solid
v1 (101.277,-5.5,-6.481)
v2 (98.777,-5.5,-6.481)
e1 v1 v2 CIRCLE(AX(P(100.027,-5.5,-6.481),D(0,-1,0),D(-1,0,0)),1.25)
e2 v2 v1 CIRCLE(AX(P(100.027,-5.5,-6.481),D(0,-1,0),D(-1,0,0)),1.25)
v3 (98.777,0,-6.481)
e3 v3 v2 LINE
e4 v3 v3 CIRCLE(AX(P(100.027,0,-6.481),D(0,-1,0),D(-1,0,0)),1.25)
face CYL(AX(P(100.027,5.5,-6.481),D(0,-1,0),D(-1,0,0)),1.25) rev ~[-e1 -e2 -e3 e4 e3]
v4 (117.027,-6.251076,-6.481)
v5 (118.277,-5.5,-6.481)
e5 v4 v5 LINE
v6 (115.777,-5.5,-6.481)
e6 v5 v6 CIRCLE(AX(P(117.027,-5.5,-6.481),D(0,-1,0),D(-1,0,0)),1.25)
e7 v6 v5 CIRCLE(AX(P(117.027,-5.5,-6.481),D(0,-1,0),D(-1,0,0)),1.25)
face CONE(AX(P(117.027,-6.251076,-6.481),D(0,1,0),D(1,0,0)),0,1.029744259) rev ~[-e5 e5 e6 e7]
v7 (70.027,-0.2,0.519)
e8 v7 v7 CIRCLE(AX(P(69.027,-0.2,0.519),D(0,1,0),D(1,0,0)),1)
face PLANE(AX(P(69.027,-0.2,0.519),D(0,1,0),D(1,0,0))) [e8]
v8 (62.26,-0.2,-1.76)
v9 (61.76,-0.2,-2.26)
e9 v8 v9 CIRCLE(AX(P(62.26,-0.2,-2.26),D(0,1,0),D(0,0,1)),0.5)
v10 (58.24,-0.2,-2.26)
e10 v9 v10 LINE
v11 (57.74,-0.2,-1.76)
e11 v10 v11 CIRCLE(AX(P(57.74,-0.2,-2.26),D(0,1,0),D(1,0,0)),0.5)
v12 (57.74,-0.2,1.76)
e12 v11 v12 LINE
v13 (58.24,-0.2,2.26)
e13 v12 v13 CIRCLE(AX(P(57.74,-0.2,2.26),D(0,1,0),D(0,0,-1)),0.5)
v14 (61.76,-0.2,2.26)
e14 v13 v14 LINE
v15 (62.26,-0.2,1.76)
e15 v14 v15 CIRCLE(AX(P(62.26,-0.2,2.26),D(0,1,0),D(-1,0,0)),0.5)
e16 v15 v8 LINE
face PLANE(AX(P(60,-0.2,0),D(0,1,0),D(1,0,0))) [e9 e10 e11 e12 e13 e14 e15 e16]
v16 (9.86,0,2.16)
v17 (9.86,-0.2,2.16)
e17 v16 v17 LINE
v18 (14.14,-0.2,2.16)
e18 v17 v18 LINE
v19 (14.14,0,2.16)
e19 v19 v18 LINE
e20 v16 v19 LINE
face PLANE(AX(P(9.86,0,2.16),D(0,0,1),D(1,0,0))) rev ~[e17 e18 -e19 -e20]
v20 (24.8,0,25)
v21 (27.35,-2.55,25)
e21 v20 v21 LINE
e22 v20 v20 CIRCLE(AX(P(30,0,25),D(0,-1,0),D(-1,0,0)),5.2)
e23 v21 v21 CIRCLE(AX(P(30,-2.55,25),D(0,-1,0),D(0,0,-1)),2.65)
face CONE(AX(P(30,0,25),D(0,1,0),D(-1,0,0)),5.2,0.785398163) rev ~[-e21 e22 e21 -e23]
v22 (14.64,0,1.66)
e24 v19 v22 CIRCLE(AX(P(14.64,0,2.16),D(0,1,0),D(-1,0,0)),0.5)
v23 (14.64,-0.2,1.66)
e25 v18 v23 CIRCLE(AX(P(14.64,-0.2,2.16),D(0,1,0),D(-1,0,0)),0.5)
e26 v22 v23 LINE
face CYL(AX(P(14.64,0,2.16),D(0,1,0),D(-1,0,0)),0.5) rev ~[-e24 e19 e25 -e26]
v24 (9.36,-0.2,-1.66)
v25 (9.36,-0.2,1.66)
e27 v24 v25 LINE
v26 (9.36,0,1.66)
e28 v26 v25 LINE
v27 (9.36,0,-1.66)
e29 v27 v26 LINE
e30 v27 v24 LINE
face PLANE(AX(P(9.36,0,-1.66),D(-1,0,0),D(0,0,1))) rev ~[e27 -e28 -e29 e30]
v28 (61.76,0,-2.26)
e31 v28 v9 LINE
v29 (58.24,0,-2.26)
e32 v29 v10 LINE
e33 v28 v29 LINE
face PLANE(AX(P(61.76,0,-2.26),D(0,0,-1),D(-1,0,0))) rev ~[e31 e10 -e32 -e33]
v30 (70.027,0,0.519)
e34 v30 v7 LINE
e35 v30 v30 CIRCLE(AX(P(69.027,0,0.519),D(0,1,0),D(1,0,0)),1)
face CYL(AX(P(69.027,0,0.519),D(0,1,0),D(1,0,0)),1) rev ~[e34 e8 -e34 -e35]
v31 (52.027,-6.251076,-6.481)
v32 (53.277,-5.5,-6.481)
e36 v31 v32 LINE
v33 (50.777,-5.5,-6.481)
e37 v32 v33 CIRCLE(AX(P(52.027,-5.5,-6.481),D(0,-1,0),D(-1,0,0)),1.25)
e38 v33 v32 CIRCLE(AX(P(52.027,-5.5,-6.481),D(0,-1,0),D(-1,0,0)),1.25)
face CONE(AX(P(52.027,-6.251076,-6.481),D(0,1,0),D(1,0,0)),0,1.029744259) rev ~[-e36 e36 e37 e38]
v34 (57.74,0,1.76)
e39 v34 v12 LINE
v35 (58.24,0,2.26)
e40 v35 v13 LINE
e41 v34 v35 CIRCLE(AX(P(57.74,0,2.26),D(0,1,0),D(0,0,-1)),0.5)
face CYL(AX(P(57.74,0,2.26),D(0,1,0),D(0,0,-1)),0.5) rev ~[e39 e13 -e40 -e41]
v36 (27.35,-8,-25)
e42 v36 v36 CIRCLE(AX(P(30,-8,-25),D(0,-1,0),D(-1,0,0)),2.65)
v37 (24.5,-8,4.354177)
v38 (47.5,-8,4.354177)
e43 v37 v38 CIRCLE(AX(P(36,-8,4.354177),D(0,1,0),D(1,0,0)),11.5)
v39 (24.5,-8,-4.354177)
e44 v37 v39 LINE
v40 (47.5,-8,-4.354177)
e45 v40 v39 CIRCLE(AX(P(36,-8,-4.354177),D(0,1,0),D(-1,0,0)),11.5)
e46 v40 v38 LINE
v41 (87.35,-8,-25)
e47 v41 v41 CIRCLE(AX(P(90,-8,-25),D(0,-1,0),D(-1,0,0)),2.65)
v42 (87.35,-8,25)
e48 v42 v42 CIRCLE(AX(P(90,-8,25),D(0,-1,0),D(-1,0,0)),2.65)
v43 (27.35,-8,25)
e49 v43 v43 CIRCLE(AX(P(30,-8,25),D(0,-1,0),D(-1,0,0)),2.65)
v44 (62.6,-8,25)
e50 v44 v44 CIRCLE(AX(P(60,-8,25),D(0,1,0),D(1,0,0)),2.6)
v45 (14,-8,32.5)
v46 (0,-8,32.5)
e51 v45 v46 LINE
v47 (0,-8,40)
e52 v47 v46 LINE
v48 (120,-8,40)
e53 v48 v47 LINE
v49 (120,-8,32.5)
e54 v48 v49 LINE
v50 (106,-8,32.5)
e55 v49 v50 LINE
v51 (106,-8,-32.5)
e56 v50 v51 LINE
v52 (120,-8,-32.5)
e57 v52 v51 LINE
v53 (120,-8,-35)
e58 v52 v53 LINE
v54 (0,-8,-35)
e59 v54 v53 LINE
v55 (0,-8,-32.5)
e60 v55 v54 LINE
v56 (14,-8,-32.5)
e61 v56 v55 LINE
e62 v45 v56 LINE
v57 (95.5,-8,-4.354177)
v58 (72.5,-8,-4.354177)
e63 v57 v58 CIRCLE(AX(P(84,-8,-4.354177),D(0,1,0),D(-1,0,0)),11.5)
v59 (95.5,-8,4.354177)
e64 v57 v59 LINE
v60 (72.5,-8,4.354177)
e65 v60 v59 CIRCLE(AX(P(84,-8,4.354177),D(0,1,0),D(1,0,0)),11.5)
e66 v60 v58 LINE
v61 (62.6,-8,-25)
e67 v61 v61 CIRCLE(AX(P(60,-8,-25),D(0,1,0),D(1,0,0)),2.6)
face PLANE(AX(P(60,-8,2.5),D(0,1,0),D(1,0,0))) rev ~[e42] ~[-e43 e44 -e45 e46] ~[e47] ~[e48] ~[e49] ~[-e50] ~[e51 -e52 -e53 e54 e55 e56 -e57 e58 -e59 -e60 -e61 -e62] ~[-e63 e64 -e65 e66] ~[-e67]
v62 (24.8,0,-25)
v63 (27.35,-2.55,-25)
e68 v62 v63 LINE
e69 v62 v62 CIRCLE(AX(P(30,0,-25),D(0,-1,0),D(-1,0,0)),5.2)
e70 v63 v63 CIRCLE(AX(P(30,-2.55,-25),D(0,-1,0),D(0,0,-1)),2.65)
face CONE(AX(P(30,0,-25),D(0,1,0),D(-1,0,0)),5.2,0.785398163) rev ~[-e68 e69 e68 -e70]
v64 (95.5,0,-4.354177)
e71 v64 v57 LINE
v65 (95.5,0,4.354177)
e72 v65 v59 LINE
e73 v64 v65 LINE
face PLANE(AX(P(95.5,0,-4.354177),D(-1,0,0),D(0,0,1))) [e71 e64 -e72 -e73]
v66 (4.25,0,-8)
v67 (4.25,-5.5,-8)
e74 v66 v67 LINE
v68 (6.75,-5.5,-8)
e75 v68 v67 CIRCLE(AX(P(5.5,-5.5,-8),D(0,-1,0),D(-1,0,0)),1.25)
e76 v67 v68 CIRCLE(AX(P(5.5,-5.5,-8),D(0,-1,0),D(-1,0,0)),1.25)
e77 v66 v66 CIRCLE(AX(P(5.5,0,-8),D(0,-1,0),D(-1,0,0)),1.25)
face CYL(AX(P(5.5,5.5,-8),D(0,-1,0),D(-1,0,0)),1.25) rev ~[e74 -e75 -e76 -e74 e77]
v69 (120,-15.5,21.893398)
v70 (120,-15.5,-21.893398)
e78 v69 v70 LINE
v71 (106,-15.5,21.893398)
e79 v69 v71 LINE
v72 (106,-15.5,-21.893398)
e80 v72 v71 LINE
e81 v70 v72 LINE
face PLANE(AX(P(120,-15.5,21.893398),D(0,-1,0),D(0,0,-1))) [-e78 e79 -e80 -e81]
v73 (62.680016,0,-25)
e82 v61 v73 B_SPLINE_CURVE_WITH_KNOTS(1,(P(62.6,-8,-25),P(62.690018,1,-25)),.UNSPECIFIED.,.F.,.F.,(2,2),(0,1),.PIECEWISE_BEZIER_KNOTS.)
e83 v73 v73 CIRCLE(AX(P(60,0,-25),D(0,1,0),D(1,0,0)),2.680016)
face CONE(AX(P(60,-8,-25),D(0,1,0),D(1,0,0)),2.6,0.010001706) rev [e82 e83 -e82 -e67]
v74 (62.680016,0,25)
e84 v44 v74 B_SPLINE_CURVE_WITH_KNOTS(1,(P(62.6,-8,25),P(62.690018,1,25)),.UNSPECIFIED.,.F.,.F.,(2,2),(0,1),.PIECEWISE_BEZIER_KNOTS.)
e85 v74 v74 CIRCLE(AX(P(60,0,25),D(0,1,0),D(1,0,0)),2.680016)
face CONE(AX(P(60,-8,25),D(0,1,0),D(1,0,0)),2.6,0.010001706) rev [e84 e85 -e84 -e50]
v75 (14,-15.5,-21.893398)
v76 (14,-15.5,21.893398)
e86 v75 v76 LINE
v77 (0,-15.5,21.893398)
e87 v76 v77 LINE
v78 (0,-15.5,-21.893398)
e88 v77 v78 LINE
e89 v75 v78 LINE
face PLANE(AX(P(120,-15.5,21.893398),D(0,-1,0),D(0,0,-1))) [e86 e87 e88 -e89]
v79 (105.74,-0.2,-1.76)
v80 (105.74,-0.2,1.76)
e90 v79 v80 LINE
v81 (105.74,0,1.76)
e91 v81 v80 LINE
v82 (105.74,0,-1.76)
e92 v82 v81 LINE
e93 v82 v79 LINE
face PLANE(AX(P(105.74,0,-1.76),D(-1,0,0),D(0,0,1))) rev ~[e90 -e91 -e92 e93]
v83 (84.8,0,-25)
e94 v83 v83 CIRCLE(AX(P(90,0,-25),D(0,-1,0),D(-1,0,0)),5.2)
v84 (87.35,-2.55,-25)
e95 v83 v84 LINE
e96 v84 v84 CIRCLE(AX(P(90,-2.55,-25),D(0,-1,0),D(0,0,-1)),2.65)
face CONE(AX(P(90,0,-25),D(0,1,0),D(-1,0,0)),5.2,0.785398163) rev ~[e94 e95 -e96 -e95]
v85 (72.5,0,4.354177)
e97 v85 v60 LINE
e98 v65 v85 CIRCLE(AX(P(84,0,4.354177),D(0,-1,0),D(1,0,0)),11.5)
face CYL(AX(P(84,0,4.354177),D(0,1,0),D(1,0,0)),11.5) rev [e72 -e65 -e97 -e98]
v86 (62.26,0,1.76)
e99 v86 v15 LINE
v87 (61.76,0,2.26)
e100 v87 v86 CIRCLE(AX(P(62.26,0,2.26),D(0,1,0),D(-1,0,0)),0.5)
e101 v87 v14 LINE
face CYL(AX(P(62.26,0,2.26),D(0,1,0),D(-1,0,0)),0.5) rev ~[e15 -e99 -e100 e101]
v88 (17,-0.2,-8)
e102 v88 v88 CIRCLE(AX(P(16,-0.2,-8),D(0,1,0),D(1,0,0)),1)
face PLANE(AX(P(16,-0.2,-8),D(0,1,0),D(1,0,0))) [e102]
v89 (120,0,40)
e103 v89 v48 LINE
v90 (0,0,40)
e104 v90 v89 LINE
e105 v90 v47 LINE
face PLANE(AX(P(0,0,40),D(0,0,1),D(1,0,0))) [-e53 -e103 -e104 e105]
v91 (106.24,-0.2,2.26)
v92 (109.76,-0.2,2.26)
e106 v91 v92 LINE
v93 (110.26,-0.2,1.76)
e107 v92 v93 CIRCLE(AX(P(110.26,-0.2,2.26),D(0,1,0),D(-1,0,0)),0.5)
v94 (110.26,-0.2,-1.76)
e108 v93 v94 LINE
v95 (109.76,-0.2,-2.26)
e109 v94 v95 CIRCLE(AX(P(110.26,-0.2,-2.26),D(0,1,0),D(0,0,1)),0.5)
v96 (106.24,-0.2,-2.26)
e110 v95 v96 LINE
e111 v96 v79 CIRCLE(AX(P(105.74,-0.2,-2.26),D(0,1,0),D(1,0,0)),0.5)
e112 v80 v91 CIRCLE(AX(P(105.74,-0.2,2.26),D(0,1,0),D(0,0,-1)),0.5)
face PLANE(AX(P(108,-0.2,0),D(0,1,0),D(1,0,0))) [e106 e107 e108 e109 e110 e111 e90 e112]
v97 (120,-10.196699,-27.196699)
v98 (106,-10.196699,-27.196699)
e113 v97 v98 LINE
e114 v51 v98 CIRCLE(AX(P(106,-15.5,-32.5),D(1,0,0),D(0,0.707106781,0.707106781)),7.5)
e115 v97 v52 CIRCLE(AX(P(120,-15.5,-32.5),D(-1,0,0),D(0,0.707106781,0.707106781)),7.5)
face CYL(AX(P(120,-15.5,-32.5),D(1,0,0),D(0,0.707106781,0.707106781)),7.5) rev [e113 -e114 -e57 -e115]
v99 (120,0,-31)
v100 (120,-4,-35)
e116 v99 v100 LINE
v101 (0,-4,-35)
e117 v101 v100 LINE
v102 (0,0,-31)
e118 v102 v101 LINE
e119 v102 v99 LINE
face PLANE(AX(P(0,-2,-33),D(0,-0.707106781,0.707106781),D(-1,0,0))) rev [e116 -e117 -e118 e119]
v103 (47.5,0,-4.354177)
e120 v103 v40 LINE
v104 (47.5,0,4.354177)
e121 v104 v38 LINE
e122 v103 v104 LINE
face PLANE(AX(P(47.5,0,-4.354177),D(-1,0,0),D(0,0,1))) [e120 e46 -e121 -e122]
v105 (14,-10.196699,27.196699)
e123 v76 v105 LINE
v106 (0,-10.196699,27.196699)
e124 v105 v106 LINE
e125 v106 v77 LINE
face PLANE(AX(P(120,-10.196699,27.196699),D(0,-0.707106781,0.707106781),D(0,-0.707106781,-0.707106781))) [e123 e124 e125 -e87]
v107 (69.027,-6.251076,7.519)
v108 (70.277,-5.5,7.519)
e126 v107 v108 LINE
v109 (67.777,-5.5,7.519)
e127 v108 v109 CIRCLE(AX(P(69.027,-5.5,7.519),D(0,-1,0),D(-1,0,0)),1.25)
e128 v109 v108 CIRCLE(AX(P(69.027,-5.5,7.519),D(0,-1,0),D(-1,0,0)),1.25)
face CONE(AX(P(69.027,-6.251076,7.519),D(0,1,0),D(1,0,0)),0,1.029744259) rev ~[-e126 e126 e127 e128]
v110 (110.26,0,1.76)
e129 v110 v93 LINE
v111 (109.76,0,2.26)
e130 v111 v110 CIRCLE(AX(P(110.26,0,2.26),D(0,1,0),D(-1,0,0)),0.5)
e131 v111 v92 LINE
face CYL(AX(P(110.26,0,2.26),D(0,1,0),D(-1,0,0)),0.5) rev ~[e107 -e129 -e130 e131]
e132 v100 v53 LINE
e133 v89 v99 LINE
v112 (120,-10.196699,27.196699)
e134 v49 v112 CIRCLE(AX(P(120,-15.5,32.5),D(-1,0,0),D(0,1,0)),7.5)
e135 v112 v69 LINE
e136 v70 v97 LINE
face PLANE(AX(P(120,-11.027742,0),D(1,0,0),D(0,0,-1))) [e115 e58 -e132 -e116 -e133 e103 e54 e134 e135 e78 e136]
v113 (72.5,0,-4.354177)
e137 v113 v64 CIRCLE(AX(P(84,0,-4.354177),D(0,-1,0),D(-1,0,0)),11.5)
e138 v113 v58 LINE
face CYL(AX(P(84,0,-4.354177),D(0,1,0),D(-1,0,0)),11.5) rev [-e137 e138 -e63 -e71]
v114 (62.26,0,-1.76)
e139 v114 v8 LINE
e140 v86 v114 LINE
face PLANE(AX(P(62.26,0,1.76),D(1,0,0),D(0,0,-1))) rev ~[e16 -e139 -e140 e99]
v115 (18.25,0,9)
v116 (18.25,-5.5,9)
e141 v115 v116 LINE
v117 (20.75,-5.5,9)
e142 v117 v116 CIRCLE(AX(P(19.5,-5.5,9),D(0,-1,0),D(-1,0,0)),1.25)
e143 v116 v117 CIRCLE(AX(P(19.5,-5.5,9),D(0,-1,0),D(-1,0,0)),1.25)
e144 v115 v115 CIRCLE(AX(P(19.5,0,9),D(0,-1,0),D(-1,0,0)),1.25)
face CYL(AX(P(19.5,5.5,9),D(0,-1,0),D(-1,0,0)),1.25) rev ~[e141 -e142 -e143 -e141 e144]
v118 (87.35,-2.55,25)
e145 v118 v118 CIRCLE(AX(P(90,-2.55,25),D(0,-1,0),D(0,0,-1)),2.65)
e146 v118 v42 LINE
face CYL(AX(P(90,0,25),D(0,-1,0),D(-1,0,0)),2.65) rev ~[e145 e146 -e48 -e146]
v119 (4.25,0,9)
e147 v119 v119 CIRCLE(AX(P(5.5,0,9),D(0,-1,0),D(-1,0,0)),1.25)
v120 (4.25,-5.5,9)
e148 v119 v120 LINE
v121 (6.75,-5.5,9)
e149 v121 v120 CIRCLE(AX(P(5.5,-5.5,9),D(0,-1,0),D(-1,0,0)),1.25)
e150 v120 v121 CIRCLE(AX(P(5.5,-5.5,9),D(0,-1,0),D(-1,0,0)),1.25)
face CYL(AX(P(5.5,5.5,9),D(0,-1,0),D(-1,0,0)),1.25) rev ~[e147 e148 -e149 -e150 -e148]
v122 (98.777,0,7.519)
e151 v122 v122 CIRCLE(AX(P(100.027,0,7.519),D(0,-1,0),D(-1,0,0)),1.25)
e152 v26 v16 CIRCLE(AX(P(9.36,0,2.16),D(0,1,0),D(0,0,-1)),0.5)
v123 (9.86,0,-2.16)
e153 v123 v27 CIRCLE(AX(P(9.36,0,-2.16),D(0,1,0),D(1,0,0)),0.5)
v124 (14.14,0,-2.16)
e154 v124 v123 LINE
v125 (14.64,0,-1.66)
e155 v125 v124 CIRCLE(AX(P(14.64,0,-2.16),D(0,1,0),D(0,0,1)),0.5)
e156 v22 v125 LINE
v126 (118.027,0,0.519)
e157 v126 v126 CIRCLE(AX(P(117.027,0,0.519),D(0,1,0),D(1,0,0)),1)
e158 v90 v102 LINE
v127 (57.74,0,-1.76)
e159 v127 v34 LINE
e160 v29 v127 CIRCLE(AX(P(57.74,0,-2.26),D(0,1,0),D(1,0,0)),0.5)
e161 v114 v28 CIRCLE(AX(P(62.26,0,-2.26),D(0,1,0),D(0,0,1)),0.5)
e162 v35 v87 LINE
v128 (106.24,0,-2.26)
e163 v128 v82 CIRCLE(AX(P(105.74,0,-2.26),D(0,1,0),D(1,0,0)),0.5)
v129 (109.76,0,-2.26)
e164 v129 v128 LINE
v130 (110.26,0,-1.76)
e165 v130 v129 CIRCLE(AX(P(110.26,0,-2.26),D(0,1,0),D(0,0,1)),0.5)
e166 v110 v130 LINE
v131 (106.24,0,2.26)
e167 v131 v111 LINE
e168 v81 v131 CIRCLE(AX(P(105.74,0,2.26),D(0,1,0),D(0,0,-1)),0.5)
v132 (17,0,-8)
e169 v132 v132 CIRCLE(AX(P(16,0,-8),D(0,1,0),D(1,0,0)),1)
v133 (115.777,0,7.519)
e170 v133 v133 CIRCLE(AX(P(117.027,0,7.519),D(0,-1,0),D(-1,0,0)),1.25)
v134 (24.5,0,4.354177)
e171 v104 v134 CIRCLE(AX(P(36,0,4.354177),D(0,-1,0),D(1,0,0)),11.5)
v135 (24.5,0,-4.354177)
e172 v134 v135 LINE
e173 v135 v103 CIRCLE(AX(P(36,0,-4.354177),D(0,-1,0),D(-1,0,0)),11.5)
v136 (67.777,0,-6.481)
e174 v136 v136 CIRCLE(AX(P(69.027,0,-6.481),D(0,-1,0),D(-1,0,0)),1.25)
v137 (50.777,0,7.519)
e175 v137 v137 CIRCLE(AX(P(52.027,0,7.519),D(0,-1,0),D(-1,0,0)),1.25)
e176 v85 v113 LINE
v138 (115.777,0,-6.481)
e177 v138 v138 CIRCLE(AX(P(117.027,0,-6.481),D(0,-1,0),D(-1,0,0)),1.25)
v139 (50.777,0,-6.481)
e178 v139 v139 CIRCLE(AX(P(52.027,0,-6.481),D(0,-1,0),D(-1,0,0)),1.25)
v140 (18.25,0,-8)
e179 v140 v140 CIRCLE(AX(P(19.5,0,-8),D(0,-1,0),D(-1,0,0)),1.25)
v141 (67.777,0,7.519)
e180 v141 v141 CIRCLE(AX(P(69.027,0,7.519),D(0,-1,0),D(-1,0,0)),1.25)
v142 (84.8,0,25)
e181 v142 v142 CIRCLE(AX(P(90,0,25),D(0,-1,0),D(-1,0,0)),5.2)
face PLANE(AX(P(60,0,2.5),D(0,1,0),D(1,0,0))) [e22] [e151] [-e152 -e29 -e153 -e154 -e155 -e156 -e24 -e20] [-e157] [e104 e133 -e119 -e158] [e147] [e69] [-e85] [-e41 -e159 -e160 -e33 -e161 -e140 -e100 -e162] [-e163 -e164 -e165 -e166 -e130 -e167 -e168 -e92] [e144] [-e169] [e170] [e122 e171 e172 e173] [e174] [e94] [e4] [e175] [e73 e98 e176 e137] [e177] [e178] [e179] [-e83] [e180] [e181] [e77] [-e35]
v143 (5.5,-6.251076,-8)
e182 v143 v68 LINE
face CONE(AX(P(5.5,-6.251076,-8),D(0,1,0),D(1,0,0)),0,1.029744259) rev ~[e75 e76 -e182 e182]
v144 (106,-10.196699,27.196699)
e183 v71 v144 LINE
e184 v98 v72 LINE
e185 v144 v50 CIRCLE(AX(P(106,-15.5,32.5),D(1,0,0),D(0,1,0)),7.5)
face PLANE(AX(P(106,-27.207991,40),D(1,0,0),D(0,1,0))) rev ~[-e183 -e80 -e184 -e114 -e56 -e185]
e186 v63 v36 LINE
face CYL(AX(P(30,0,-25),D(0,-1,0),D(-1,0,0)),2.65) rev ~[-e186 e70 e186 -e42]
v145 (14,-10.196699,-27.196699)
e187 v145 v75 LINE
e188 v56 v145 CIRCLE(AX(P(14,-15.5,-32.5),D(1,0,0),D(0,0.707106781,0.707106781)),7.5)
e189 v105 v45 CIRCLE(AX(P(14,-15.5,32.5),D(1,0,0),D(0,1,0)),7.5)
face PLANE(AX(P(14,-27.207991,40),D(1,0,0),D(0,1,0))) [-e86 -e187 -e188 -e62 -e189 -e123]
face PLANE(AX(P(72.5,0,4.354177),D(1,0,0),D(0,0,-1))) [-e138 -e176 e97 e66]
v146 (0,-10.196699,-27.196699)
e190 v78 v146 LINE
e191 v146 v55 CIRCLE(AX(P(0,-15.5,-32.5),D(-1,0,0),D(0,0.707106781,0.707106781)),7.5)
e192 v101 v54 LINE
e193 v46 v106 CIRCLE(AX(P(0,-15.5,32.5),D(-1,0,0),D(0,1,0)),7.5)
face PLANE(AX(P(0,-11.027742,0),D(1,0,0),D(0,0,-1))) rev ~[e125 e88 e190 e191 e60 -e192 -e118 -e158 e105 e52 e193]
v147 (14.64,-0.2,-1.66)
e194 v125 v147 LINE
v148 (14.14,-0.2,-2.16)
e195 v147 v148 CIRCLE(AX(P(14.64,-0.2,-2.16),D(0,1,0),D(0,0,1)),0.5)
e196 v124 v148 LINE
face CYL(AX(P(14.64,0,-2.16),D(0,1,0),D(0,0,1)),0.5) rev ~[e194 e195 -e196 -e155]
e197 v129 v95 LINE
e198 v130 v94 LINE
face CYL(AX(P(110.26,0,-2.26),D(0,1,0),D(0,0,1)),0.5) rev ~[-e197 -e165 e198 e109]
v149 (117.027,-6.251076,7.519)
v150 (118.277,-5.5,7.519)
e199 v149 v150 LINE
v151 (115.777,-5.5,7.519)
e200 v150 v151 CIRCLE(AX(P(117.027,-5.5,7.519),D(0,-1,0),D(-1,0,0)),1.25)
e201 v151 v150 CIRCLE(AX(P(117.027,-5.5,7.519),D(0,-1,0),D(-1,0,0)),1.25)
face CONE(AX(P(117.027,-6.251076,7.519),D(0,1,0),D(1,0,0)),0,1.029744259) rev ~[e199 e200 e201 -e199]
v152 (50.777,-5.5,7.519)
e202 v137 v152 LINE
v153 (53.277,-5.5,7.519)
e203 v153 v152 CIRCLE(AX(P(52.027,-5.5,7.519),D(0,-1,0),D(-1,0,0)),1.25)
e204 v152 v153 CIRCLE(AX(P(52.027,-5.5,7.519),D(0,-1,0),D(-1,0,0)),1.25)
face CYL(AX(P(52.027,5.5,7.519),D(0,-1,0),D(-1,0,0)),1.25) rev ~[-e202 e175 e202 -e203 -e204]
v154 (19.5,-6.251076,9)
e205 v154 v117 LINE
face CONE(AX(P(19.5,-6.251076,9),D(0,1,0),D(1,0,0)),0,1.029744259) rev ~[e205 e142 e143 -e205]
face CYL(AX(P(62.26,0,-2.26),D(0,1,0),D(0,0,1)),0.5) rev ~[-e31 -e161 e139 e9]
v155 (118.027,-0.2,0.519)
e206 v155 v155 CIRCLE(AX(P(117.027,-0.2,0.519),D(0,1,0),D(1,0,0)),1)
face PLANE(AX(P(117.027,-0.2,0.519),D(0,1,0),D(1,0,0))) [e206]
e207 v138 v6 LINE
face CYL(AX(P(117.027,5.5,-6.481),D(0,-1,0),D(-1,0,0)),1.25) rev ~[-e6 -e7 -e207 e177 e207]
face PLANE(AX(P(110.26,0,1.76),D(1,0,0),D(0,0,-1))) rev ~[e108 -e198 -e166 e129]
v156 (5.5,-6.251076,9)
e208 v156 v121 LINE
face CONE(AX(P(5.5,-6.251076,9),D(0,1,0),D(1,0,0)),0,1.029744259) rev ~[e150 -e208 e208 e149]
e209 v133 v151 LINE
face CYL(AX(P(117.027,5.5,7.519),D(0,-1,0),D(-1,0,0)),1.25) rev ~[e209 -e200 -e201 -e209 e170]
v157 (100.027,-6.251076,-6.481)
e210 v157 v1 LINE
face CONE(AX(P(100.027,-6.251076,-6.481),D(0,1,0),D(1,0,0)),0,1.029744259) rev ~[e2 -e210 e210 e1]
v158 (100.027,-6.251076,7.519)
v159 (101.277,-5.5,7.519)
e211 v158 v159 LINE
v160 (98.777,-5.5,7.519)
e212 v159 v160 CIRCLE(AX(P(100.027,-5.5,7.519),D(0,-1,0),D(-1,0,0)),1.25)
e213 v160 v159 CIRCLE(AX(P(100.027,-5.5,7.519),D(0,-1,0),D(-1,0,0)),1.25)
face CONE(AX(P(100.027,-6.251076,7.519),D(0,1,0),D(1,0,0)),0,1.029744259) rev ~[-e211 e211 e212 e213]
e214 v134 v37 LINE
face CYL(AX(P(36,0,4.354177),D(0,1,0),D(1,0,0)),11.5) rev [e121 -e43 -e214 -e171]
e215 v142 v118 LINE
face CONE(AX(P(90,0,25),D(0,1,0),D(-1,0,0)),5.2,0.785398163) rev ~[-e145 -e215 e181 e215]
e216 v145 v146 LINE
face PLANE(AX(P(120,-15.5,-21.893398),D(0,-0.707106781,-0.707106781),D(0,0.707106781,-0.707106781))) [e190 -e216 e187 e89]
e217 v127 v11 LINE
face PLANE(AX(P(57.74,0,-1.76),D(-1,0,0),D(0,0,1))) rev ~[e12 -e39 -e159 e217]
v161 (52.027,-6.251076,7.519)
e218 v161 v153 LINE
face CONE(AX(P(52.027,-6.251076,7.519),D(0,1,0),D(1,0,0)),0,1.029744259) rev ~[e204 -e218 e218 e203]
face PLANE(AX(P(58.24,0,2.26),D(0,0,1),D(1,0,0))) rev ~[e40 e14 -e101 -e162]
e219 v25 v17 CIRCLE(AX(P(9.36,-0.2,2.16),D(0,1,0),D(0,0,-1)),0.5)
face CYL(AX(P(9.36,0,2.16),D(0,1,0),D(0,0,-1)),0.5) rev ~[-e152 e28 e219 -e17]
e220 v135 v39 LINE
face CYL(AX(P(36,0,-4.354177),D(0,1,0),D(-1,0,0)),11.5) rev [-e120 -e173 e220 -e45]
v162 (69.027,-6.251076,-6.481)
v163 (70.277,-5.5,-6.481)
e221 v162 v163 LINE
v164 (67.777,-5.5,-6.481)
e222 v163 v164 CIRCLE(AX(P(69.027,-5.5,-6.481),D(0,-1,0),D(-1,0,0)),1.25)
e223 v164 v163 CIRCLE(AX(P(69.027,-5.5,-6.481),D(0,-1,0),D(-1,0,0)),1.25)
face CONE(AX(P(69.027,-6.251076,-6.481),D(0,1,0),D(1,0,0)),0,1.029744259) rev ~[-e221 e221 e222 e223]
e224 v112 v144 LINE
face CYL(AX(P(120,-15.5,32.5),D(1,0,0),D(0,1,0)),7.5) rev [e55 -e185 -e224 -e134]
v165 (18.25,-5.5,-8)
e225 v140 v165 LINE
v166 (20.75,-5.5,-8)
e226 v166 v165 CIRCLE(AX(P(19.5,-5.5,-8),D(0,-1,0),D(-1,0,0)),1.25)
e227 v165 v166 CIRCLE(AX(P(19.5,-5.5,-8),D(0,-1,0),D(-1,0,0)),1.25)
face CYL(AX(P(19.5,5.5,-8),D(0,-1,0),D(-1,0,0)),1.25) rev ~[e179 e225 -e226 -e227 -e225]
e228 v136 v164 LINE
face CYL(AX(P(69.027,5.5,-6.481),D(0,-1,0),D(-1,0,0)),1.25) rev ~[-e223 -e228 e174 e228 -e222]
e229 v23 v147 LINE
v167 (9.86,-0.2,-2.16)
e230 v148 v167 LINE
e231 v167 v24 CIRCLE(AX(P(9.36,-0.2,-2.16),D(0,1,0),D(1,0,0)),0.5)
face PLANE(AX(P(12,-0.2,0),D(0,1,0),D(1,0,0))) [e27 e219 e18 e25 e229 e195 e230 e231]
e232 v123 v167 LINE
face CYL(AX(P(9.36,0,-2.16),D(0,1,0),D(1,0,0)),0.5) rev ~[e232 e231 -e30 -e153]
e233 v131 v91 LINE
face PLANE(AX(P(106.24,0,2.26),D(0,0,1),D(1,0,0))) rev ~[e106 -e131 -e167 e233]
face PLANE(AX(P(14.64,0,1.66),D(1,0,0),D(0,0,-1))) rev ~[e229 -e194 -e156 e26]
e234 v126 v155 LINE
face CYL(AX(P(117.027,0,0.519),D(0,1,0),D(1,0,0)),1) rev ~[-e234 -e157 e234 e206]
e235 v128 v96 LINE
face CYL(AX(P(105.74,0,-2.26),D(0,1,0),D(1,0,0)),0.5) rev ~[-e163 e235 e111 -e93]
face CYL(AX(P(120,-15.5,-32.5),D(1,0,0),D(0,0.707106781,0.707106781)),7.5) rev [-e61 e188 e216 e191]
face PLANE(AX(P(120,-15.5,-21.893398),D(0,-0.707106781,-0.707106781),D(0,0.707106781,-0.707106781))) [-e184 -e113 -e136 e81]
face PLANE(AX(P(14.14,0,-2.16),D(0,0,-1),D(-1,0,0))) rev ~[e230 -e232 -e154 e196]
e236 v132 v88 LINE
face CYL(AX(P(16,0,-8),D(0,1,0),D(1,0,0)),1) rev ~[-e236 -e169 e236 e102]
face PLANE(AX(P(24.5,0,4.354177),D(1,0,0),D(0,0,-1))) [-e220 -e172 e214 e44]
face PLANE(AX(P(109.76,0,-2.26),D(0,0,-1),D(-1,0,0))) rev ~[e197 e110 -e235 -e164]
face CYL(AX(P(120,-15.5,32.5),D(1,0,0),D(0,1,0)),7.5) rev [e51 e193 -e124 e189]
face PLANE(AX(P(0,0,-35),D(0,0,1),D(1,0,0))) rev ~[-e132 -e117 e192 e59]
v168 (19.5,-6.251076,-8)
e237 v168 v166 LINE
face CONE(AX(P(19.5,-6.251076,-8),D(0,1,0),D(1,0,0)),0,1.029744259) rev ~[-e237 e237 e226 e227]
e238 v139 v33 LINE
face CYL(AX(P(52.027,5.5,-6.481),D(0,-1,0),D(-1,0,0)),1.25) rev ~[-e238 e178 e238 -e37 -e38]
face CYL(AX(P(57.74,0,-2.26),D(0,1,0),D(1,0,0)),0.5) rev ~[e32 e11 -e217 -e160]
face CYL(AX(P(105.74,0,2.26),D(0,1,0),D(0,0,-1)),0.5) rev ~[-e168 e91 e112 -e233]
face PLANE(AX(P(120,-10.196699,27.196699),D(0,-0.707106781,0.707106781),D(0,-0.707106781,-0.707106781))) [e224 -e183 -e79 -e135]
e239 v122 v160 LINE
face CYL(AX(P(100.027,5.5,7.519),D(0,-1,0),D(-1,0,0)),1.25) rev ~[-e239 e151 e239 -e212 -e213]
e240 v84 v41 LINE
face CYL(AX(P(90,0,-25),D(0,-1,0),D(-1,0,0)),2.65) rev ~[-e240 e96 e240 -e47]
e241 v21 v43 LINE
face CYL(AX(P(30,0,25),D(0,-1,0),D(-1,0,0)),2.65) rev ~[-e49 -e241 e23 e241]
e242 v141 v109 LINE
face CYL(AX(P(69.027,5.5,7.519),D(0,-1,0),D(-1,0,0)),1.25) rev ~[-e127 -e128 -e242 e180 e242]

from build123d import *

# Parameters (mm, degrees)
SKETCH_5_W                  = 120
SKETCH_5_H                  = 75
EXTRUDE_2_DEPTH             = 8
SKETCH2_R                   = 1
CUT_EXTRUDE2_DEPTH          = 0.2
SKETCH3_R                   = 1
CUT_EXTRUDE3_DEPTH          = 0.2
M3X0_5_TAPPED_HOLE1_D       = 2.5
M3X0_5_TAPPED_HOLE1_DEPTH   = 5.5
M3X0_5_TAPPED_HOLE1_TIP     = 0.751075774
HOLE_WIZARD_M51_D           = 5.3
HOLE_WIZARD_M51_CSINK_D     = 10.4
HOLE_WIZARD_M51_CSINK_ANGLE = 90
SKETCH6_R                   = 2.6
CUT_EXTRUDE4_DEPTH          = 9
CUT_EXTRUDE4_TAPER          = -0.573055556
CUT_EXTRUDE_1_DEPTH         = 10
EXTRUDE_3_DEPTH             = 120
SKETCH_9_W                  = 92
SKETCH_9_H                  = 19.20799114
CUT_EXTRUDE_3_DEPTH         = 76
CHAMFER_1_SIZE              = 4


with BuildPart() as part:
    # Эскиз5 → Бобышка-Вытянуть2 (new body)
    with BuildSketch(Plane(origin=(0, 0, 0), x_dir=(1, 0, 0), z_dir=(0, 1, 0))):
        with Locations((60, -2.5)):
            Rectangle(SKETCH_5_W, SKETCH_5_H)
    extrude(amount=-EXTRUDE_2_DEPTH)

    # Sketch2 → Cut-Extrude2 (cut)
    with BuildSketch(Plane(origin=(0, 0, 0), x_dir=(1, 0, 0), z_dir=(0, 1, 0))):
        with Locations((117.027, -0.519)):
            Circle(SKETCH2_R)
        with Locations((69.027, -0.519)):
            Circle(SKETCH2_R)
        with BuildLine():
            Line((106.24, -2.26), (109.76, -2.26))
            ThreePointArc((109.76, -2.26), (110.613553391, -2.613553391), (110.26, -1.76))
            Line((110.26, -1.76), (110.26, 1.76))
            ThreePointArc((110.26, 1.76), (110.613553391, 2.613553391), (109.76, 2.26))
            Line((109.76, 2.26), (106.24, 2.26))
            ThreePointArc((106.24, 2.26), (105.386446609, 2.613553391), (105.74, 1.76))
            Line((105.74, 1.76), (105.74, -1.76))
            ThreePointArc((105.74, -1.76), (105.386446609, -2.613553391), (106.24, -2.26))
        make_face()
        with BuildLine():
            Line((58.24, -2.26), (61.76, -2.26))
            ThreePointArc((61.76, -2.26), (62.613553391, -2.613553391), (62.26, -1.76))
            Line((62.26, -1.76), (62.26, 1.76))
            ThreePointArc((62.26, 1.76), (62.613553391, 2.613553391), (61.76, 2.26))
            Line((61.76, 2.26), (58.24, 2.26))
            ThreePointArc((58.24, 2.26), (57.386446609, 2.613553391), (57.74, 1.76))
            Line((57.74, 1.76), (57.74, -1.76))
            ThreePointArc((57.74, -1.76), (57.386446609, -2.613553391), (58.24, -2.26))
        make_face()
    extrude(amount=-CUT_EXTRUDE2_DEPTH, mode=Mode.SUBTRACT)

    # Sketch3 → Cut-Extrude3 (cut)
    with BuildSketch(Plane(origin=(0, 0, 0), x_dir=(1, 0, 0), z_dir=(0, 1, 0))):
        with Locations((16, 8)):
            Circle(SKETCH3_R)
        with BuildLine():
            Line((9.86, -2.16), (14.14, -2.16))
            ThreePointArc((14.14, -2.16), (14.993553391, -2.513553391), (14.64, -1.66))
            Line((14.64, -1.66), (14.64, 1.66))
            ThreePointArc((14.64, 1.66), (14.993553391, 2.513553391), (14.14, 2.16))
            Line((14.14, 2.16), (9.86, 2.16))
            ThreePointArc((9.86, 2.16), (9.006446609, 2.513553391), (9.36, 1.66))
            Line((9.36, 1.66), (9.36, -1.66))
            ThreePointArc((9.36, -1.66), (9.006446609, -2.513553391), (9.86, -2.16))
        make_face()
    extrude(amount=-CUT_EXTRUDE3_DEPTH, mode=Mode.SUBTRACT)

    # M3x0.5 Tapped Hole1
    with Locations(Plane(origin=(0, 0, 0), x_dir=(1, 0, 0), z_dir=(0, 1, 0))):
        with Locations((5.5, 8), (19.5, 8), (19.5, -9), (5.5, -9), (52.027, 6.481), (69.027, 6.481), (69.027, -7.519), (52.027, -7.519), (100.027, 6.481), (117.027, 6.481), (117.027, -7.519), (100.027, -7.519)):
            Hole(M3X0_5_TAPPED_HOLE1_D / 2, depth=M3X0_5_TAPPED_HOLE1_DEPTH)
            with Locations((0, 0, -(M3X0_5_TAPPED_HOLE1_DEPTH + M3X0_5_TAPPED_HOLE1_TIP / 2))):  # 118° drill point
                Cone(0, M3X0_5_TAPPED_HOLE1_D / 2, M3X0_5_TAPPED_HOLE1_TIP, mode=Mode.SUBTRACT)

    # Зенковка для  винта с плоской головкой M51 (through all)
    with Locations(Plane(origin=(0, 0, 0), x_dir=(1, 0, 0), z_dir=(0, 1, 0))):
        with Locations((30, 25), (90, 25), (90, -25), (30, -25)):
            CounterSinkHole(HOLE_WIZARD_M51_D / 2, HOLE_WIZARD_M51_CSINK_D / 2, counter_sink_angle=HOLE_WIZARD_M51_CSINK_ANGLE)

    # Sketch6 → Cut-Extrude4 (cut, through all)
    with BuildSketch(Plane.XZ.offset(8)):
        with Locations((60, -25)):
            Circle(SKETCH6_R)
        with Locations((60, 25)):
            Circle(SKETCH6_R)
    extrude(amount=-CUT_EXTRUDE4_DEPTH, taper=CUT_EXTRUDE4_TAPER, mode=Mode.SUBTRACT)

    # Эскиз7 → Вырез-Вытянуть1 (cut)
    with BuildSketch(Plane(origin=(0, 0, 0), x_dir=(1, 0, 0), z_dir=(0, 1, 0))):
        with BuildLine():
            Line((47.5, 4.354177178), (47.5, -4.354177178))
            ThreePointArc((47.5, -4.354177178), (36, -15.854177178), (24.5, -4.354177178))
            Line((24.5, -4.354177178), (24.5, 4.354177178))
            ThreePointArc((24.5, 4.354177178), (36, 15.854177178), (47.5, 4.354177178))
        make_face()
        with BuildLine():
            Line((95.5, 4.354177178), (95.5, -4.354177178))
            ThreePointArc((95.5, -4.354177178), (84, -15.854177178), (72.5, -4.354177178))
            Line((72.5, -4.354177178), (72.5, 4.354177178))
            ThreePointArc((72.5, 4.354177178), (84, 15.854177178), (95.5, 4.354177178))
        make_face()
    extrude(amount=-CUT_EXTRUDE_1_DEPTH, mode=Mode.SUBTRACT)

    # Эскиз8 → Бобышка-Вытянуть3 (add, through all)
    with BuildSketch(Plane(origin=(120, 0, 0), x_dir=(0, 0, -1), z_dir=(1, 0, 0))):
        with BuildLine():
            Line((-21.893398282, -15.5), (21.893398282, -15.5))
            Line((21.893398282, -15.5), (27.196699141, -10.196699141))
            ThreePointArc((27.196699141, -10.196699141), (29.629874257, -8.570903506), (32.5, -8))
            Line((32.5, -8), (-32.5, -8))
            ThreePointArc((-32.5, -8), (-29.629874257, -8.570903506), (-27.196699141, -10.196699141))
            Line((-27.196699141, -10.196699141), (-21.893398282, -15.5))
        make_face()
    extrude(amount=-EXTRUDE_3_DEPTH)

    # Эскиз9 → Вырез-Вытянуть3 (cut, through all)
    with BuildSketch(Plane.XY.offset(40)):
        with Locations((60, -17.60399557)):
            Rectangle(SKETCH_9_W, SKETCH_9_H)
    extrude(amount=-CUT_EXTRUDE_3_DEPTH, mode=Mode.SUBTRACT)

    # Фаска1
    chamfer_1_edges = [part.edges().sort_by_distance(p)[0] for p in [
        (60, 0, -35),
    ]]
    chamfer(chamfer_1_edges, length=CHAMFER_1_SIZE)


solid = part.part
